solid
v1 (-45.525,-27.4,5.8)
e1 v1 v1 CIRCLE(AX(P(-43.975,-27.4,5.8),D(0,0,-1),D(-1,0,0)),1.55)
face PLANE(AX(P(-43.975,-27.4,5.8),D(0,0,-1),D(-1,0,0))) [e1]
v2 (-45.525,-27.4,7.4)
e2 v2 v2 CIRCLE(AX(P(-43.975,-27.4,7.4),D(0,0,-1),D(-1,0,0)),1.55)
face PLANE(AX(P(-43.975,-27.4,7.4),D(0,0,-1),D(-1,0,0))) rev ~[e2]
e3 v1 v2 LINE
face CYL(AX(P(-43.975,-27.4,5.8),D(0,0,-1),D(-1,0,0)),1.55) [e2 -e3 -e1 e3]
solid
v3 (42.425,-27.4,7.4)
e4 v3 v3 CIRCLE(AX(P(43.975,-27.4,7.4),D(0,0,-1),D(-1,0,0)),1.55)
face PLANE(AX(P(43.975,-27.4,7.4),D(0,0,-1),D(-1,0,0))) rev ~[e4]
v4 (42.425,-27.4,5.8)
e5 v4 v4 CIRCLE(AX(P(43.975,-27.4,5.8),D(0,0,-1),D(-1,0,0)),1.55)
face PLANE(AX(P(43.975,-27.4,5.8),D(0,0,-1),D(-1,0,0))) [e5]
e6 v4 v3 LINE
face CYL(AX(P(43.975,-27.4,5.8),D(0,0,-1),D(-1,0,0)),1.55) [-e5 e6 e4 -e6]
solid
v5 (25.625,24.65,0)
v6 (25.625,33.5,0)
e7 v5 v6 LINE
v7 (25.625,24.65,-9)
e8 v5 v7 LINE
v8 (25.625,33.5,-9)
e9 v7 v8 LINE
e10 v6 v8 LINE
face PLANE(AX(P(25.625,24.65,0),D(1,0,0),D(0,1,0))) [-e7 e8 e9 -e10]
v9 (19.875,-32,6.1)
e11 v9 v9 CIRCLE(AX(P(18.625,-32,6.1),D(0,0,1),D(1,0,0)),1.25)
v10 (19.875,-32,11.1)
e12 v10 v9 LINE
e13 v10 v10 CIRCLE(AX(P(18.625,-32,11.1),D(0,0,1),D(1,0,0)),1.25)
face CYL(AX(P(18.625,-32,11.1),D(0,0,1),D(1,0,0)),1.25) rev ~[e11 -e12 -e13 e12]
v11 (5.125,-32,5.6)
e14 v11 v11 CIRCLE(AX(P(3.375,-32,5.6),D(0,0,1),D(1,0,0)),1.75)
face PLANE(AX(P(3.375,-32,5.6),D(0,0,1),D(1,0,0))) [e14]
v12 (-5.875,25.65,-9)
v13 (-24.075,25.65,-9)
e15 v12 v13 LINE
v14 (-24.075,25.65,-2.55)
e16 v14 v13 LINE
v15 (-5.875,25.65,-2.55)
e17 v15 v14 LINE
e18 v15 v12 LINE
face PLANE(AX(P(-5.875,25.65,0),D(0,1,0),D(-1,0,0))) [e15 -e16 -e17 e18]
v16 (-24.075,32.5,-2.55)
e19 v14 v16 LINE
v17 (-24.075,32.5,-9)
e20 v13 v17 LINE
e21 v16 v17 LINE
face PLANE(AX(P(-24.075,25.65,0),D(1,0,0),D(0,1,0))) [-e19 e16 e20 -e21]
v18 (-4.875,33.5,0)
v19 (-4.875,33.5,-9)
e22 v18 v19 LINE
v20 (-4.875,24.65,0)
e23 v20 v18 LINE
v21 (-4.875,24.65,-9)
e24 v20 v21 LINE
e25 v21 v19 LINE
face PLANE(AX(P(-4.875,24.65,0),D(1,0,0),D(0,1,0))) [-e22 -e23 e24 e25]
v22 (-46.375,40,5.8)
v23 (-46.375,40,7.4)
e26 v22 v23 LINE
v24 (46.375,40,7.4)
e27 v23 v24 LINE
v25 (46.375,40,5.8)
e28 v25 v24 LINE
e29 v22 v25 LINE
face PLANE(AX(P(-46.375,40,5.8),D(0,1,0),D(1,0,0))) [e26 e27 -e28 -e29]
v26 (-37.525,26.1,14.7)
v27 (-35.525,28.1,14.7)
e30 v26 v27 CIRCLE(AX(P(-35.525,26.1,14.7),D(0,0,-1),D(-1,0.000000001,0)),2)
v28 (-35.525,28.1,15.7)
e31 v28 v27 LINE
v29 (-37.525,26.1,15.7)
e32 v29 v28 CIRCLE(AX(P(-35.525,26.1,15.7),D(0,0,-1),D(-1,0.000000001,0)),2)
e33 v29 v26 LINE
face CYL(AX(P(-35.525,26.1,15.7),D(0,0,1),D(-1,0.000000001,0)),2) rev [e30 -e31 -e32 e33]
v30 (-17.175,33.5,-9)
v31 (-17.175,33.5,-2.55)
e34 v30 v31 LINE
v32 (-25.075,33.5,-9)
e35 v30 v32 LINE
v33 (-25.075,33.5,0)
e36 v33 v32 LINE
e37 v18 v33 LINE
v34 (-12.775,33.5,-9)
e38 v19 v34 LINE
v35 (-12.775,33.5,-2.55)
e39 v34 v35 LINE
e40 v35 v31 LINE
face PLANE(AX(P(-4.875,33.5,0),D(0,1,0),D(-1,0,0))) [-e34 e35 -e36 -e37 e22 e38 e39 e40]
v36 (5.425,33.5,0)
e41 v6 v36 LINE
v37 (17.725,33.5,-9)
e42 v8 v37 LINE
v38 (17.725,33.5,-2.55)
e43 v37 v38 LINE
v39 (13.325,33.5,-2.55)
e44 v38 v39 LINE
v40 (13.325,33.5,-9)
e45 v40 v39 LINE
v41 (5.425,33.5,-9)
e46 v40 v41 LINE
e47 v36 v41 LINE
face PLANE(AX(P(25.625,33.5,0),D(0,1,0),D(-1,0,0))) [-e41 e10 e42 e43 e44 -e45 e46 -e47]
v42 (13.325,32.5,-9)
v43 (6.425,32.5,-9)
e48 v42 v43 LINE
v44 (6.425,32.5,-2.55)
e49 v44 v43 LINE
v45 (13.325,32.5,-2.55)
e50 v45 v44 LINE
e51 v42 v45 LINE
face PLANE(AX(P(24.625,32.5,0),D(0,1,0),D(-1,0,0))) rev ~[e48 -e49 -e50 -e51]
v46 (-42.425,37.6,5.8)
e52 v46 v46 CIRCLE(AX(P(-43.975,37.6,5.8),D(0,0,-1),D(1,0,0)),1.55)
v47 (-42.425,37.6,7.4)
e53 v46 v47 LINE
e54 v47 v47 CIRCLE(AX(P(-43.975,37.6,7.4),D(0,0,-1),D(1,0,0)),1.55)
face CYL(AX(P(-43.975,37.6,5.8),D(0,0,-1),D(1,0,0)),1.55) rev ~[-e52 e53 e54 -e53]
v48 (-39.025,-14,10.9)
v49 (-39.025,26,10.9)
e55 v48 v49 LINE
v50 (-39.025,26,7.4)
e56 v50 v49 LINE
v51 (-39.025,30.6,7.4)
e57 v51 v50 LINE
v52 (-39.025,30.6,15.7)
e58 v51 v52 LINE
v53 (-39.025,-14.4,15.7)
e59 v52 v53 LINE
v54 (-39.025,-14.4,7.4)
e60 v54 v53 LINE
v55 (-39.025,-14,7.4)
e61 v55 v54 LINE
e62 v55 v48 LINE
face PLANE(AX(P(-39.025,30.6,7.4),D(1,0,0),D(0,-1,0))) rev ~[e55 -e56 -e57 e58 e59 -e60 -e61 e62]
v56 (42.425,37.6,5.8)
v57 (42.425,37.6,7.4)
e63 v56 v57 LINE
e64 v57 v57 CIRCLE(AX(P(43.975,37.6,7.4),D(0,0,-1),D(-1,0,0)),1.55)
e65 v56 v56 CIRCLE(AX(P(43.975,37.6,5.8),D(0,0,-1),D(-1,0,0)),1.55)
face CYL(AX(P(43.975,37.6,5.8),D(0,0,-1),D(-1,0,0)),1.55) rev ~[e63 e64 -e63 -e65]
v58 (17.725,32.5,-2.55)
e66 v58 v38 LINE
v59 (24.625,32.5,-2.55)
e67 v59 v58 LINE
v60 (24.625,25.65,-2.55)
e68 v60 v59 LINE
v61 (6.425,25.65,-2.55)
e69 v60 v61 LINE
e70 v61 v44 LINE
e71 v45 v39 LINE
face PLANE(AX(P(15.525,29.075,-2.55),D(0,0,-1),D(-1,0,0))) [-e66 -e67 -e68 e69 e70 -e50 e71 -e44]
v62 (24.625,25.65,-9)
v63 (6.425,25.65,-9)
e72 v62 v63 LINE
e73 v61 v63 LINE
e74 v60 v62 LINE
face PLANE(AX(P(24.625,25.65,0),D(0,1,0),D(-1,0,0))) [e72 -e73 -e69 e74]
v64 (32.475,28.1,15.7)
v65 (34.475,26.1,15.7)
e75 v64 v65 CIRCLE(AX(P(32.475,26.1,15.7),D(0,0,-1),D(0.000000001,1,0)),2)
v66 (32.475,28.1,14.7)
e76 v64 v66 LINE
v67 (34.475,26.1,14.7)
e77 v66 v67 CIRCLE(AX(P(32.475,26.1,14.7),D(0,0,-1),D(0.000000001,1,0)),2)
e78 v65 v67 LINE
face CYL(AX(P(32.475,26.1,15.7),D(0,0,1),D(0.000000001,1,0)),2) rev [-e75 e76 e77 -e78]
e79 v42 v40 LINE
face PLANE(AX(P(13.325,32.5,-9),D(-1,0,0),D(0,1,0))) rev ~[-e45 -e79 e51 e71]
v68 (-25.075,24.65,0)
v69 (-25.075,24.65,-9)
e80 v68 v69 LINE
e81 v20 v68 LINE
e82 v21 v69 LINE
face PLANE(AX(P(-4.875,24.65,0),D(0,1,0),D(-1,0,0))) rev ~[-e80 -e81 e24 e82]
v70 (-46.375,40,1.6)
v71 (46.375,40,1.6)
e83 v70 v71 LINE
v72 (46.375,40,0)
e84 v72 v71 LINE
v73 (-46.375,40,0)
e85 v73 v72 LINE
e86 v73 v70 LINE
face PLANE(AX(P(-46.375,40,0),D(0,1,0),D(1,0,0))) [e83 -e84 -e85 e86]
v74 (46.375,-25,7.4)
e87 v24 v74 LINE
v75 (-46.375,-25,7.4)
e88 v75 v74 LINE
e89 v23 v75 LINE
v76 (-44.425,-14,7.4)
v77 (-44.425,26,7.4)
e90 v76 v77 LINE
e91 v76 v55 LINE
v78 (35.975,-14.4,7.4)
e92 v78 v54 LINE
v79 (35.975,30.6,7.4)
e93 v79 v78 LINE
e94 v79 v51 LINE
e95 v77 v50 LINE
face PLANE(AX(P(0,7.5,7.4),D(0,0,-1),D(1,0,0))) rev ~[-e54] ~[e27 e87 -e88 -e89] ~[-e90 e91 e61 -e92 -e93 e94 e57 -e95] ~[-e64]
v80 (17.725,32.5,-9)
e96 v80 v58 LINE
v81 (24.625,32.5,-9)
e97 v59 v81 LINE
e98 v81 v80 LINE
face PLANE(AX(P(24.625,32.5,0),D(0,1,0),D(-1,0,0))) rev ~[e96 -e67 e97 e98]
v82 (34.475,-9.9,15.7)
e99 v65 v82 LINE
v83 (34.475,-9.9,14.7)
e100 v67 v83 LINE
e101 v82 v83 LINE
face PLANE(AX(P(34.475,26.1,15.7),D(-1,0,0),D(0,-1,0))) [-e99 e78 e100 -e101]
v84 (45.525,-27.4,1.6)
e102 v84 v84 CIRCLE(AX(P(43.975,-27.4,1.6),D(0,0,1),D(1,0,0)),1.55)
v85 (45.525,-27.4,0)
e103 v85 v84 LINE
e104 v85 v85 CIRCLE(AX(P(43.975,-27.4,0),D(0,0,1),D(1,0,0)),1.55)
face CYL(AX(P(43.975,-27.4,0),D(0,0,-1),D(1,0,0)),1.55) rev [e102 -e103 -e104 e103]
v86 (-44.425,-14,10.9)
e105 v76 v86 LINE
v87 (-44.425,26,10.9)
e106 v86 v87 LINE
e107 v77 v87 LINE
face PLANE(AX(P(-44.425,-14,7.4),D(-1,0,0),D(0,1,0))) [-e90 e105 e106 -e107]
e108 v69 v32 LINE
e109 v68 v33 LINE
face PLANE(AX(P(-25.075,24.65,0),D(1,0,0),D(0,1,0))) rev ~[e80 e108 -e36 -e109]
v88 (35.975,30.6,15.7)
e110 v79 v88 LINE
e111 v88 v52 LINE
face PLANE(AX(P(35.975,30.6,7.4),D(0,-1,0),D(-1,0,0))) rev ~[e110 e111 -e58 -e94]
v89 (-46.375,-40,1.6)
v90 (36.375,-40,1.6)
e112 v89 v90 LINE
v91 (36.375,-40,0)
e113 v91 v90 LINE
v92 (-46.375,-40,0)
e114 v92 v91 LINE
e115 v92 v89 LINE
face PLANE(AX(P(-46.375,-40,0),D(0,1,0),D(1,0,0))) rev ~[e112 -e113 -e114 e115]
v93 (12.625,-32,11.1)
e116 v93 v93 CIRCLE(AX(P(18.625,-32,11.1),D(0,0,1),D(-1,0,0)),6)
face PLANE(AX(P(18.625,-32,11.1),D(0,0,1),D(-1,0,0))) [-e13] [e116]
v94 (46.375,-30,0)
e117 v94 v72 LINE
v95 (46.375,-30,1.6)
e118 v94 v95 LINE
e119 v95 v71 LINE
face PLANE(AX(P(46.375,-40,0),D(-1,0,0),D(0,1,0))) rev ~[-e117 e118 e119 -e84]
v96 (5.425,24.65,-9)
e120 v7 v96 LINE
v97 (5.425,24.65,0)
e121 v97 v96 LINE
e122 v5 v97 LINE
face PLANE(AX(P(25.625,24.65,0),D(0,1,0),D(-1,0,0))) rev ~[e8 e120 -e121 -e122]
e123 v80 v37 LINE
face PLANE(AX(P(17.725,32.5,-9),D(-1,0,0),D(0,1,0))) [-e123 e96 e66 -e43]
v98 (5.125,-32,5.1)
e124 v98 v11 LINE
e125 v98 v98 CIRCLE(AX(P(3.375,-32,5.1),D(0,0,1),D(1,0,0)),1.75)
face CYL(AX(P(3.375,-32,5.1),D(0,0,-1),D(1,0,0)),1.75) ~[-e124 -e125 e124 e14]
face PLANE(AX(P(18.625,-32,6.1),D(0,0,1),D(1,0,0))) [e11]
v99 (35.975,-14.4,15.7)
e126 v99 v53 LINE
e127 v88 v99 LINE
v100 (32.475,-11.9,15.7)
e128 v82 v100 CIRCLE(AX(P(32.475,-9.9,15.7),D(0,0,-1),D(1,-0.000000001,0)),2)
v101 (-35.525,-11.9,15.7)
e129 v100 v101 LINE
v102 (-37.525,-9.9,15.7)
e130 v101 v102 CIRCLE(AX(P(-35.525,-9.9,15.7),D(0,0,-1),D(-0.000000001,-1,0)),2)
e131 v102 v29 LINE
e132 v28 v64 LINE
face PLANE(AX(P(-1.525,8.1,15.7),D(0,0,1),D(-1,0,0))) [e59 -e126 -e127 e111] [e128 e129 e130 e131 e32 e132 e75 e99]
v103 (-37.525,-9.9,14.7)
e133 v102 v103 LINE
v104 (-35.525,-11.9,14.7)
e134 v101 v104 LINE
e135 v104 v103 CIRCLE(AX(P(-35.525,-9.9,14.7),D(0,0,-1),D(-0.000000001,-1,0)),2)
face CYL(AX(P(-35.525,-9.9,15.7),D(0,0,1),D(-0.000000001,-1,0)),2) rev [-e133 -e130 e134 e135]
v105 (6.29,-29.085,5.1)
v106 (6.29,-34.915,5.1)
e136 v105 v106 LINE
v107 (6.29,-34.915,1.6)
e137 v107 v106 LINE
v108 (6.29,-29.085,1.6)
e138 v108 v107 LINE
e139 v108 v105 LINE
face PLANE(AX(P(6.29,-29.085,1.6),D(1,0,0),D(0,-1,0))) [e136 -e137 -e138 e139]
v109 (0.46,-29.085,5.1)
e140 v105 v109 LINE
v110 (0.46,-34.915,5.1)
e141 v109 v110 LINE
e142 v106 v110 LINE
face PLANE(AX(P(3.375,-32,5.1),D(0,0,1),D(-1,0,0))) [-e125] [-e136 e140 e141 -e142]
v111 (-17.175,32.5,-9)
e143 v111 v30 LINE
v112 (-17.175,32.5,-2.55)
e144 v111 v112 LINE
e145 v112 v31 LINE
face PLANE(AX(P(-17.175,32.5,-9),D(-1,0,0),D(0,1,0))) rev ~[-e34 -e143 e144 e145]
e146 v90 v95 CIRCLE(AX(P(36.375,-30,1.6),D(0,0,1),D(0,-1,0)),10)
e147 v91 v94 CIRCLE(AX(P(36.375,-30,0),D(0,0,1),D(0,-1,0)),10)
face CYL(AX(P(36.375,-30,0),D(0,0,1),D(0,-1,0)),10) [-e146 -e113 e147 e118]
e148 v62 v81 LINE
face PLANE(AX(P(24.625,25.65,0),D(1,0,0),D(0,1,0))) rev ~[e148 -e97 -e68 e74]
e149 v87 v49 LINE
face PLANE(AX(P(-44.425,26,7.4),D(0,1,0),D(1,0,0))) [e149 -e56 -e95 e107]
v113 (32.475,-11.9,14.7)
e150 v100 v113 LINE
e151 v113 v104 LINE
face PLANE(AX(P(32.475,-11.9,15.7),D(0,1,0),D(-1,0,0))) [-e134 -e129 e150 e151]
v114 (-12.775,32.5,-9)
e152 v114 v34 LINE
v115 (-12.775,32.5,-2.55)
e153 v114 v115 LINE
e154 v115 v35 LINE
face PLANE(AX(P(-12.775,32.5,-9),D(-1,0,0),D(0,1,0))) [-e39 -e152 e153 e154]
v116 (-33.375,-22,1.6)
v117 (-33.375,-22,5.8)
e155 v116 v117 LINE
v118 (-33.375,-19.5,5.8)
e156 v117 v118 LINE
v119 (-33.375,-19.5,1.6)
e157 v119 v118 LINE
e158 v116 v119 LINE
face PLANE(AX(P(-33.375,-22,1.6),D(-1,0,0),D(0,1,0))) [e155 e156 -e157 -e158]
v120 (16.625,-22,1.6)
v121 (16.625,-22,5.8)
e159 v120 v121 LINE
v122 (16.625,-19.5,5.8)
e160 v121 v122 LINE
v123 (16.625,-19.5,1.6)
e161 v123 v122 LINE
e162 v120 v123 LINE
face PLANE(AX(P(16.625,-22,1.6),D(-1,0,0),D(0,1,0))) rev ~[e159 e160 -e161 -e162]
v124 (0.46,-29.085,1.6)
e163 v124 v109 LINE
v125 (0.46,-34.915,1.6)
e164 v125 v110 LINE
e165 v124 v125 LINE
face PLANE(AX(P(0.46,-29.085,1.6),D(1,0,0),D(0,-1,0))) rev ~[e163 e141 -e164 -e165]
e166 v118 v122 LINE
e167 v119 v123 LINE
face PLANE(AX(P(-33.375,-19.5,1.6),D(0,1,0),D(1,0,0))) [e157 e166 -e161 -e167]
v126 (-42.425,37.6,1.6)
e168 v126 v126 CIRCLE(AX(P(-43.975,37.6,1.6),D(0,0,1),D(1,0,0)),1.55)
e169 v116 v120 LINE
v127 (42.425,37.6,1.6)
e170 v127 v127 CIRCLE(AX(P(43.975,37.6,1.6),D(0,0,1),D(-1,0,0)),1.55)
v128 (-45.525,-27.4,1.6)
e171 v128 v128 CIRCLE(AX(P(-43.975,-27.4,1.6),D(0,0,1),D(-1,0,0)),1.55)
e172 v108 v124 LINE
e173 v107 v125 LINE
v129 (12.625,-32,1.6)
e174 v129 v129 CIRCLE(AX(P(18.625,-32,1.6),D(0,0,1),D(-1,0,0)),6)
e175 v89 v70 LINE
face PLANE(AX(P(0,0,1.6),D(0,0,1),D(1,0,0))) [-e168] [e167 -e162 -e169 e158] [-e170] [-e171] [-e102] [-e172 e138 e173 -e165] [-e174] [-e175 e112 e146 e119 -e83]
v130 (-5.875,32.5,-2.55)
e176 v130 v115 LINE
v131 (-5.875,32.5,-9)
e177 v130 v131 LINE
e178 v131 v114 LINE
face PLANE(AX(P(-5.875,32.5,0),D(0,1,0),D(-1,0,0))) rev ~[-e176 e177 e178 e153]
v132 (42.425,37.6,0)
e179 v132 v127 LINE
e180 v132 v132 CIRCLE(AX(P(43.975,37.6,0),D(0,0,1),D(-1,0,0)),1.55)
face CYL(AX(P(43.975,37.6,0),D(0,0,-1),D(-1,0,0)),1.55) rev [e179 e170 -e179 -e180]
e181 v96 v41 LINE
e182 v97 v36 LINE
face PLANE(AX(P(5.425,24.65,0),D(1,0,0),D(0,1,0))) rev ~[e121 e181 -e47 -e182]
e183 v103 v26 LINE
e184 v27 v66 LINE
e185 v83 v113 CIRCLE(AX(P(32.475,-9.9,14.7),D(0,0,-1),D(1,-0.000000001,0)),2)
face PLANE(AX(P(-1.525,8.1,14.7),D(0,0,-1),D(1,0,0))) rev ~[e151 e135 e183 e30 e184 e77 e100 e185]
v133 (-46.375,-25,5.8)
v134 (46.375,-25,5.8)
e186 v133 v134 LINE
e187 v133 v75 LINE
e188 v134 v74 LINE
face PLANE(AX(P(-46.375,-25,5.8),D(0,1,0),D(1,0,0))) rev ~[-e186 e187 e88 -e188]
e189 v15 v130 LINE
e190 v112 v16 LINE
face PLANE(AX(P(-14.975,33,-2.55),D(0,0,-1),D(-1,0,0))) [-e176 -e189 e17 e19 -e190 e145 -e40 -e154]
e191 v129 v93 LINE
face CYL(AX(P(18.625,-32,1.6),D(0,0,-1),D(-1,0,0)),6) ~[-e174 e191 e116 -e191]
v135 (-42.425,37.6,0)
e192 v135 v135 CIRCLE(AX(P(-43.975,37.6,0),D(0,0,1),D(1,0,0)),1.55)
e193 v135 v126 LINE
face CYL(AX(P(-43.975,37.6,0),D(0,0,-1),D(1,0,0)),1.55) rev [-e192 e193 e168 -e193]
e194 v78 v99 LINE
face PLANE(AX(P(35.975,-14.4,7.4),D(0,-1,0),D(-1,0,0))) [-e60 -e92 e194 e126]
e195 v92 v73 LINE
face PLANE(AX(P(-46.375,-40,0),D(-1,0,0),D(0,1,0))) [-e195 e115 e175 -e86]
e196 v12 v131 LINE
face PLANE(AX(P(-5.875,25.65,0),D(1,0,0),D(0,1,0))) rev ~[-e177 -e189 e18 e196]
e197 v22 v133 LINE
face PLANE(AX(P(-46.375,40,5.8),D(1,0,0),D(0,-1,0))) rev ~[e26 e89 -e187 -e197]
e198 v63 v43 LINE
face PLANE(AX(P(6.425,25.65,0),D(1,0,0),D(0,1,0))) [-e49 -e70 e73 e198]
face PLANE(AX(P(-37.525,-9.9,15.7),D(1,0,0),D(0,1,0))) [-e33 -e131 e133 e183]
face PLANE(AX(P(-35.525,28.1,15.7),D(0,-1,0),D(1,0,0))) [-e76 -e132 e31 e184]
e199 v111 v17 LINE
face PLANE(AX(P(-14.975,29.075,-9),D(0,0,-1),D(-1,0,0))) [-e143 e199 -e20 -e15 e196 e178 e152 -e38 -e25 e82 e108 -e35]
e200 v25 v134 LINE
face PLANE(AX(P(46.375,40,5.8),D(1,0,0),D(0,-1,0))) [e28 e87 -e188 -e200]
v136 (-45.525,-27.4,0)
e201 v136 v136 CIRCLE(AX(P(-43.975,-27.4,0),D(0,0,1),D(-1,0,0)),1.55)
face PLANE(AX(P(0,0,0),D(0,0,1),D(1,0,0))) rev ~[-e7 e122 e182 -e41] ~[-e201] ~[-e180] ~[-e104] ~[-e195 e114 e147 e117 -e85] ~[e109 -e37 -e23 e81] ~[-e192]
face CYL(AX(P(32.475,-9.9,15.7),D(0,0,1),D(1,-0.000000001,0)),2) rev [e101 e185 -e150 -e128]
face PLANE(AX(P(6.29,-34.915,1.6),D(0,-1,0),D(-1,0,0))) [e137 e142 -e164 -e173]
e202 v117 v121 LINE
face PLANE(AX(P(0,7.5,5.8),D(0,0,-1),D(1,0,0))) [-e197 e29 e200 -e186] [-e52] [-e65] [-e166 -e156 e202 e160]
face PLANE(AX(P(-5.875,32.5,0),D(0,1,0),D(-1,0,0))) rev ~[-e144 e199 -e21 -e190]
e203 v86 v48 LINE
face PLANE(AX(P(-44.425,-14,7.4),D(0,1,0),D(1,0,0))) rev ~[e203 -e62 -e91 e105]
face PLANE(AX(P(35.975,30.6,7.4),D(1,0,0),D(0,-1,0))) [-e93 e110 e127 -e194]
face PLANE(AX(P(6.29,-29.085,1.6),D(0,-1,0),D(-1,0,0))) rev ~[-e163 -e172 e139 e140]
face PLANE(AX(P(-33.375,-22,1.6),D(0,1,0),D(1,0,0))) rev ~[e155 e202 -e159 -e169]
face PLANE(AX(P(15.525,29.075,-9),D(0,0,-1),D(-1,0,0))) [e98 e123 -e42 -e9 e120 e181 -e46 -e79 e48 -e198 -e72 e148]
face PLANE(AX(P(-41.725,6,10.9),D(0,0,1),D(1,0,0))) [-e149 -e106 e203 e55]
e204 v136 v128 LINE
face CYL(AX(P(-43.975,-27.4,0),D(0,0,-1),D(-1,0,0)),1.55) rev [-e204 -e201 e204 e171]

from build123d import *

# Parameters (mm, degrees)
SKETCH1_W                             = 92.75
SKETCH1_H                             = 80
SKETCH1_R                             = 1.55
BOSS_EXTRUDE1_FIRST_PCB_DEPTH         = 1.6
SKETCH2_R                             = 6
BOSS_EXTRUDE2_SPEAKER_DEPTH           = 9.5
SKETCH15_R                            = 1.25
CUT_EXTRUDE1_SPEAKER_HOLE_DEPTH       = 5
SKETCH4_W                             = 5.83
SKETCH4_H                             = 5.83
BOSS_EXTRUDE4_RESET_SWITCH_DEPTH      = 3.5
SKETCH5_R                             = 1.75
BOSS_EXTRUDE5_RESET_BUTTON_DEPTH      = 0.5
SKETCH19_W                            = 50
SKETCH19_H                            = 2.5
BOSS_EXTRUDE10_CONNECTOR_DEPTH        = 4.2
SKETCH11_R                            = 1.55
SKETCH11_W                            = 92.75
SKETCH11_H                            = 65
BOSS_EXTRUDE11_UPPER_PCB_DEPTH        = 1.6
SKETCH12_W                            = 75
SKETCH12_H                            = 45
BOSS_EXTRUDE12_LCD_DEPTH              = 8.3
SKETCH24_W                            = 5.4
SKETCH24_H                            = 40
BOSS_EXTRUDE13_LCD_BUMPOUT_DEPTH      = 3.5
CUT_EXTRUDE2_SCREEN_RECESS_DEPTH      = 1
SKETCH21_W                            = 20.2
SKETCH21_H                            = 8.85
SKETCH21_W_2                          = 18.2
SKETCH21_H_2                          = 6.85
BOSS_EXTRUDE14_CONNECTORS_DEPTH       = 9
SKETCH22_W                            = 18.2
SKETCH22_H                            = 6.85
BOSS_EXTRUDE15_CONNECTOR_RECESS_DEPTH = 2.55
SKETCH23_W                            = 4.4
SKETCH23_H                            = 1
CUT_EXTRUDE3_CONNECTOR_NOTCH_DEPTH    = 6.45
FILLET1_R                             = 10


with BuildPart() as part:
    # Sketch1 → Boss-Extrude1 - First PCB (new body)
    with BuildSketch(Plane.XY):
        Rectangle(SKETCH1_W, SKETCH1_H)
        with Locations((-43.975, 37.6)):
            Circle(SKETCH1_R, mode=Mode.SUBTRACT)
        with Locations(Location((43.975, 37.6, 0), (0, 0, 180))):
            Circle(SKETCH1_R, mode=Mode.SUBTRACT)
        with Locations((43.975, -27.4)):
            Circle(SKETCH1_R, mode=Mode.SUBTRACT)
        with Locations(Location((-43.975, -27.4, 0), (0, 0, 180))):
            Circle(SKETCH1_R, mode=Mode.SUBTRACT)
    extrude(amount=BOSS_EXTRUDE1_FIRST_PCB_DEPTH)

    # Sketch2 → Boss-Extrude2 - Speaker (add)
    with BuildSketch(Plane.XY.offset(1.6)):
        with Locations(Location((18.625, -32, 0), (0, 0, 180))):
            Circle(SKETCH2_R)
    extrude(amount=BOSS_EXTRUDE2_SPEAKER_DEPTH)

    # Sketch15 → Cut-Extrude1 - Speaker Hole (cut)
    with BuildSketch(Plane.XY.offset(11.1)):
        with Locations((18.625, -32)):
            Circle(SKETCH15_R)
    extrude(amount=-CUT_EXTRUDE1_SPEAKER_HOLE_DEPTH, mode=Mode.SUBTRACT)

    # Sketch4 → Boss-Extrude4 - Reset Switch (add)
    with BuildSketch(Plane(origin=(0, 0, 1.6), x_dir=(-1, 0, 0), z_dir=(0, 0, 1))):
        with Locations((-3.375, 32)):
            Rectangle(SKETCH4_W, SKETCH4_H)
    extrude(amount=BOSS_EXTRUDE4_RESET_SWITCH_DEPTH)

    # Sketch5 → Boss-Extrude5 - Reset Button (add)
    with BuildSketch(Plane(origin=(0, 0, 5.1), x_dir=(-1, 0, 0), z_dir=(0, 0, 1))):
        with Locations(Location((-3.375, 32, 0), (0, 0, 180))):
            Circle(SKETCH5_R)
    extrude(amount=BOSS_EXTRUDE5_RESET_BUTTON_DEPTH)

    # Sketch19 → Boss-Extrude10 - Connector (add)
    with BuildSketch(Plane.XY.offset(1.6)):
        with Locations((-8.375, -20.75)):
            Rectangle(SKETCH19_W, SKETCH19_H)
    extrude(amount=BOSS_EXTRUDE10_CONNECTOR_DEPTH)

    # Sketch11 → Boss-Extrude11 - Upper PCB (add)
    # profile 1 of 3: a face of its own
    with BuildSketch(Plane(origin=(0, -2, 5.8), x_dir=(1, 0, 0), z_dir=(0, 0, -1))):
        with Locations(Location((-43.975, 25.4, 0), (0, 0, 180))):
            Circle(SKETCH11_R)
    # profile 2 of 3: a face of its own
    with BuildSketch(Plane(origin=(0, -2, 5.8), x_dir=(1, 0, 0), z_dir=(0, 0, -1))):
        with Locations(Location((43.975, 25.4, 0), (0, 0, 180))):
            Circle(SKETCH11_R)
    # profile 3 of 3: a face of its own
    with BuildSketch(Plane(origin=(0, -2, 5.8), x_dir=(1, 0, 0), z_dir=(0, 0, -1))):
        with Locations((0, -9.5)):
            Rectangle(SKETCH11_W, SKETCH11_H)
        with Locations((-43.975, -39.6)):
            Circle(SKETCH11_R, mode=Mode.SUBTRACT)
        with Locations(Location((43.975, -39.6, 0), (0, 0, 180))):
            Circle(SKETCH11_R, mode=Mode.SUBTRACT)
    extrude(amount=-BOSS_EXTRUDE11_UPPER_PCB_DEPTH)


with BuildPart() as boss_extrude11_upper_pcb_piece_1:
    # of the separate pieces the step leaves, piece 1, a body of its own (boss_extrude11_upper_pcb_pieces)
    add(part.part.solids().sort_by_distance((46.375, -25, 5.8))[0])

    # Sketch12 → Boss-Extrude12 - LCD (add)
    with BuildSketch(Plane(origin=(0, 0, 7.4), x_dir=(-1, 0, 0), z_dir=(0, 0, 1))):
        with Locations((1.525, -8.1)):
            Rectangle(SKETCH12_W, SKETCH12_H)
    extrude(amount=BOSS_EXTRUDE12_LCD_DEPTH)

    # Sketch24 → Boss-Extrude13 - LCD Bumpout (add)
    with BuildSketch(Plane.XY.offset(7.4)):
        with Locations((-41.725, 6)):
            Rectangle(SKETCH24_W, SKETCH24_H)
    extrude(amount=BOSS_EXTRUDE13_LCD_BUMPOUT_DEPTH)

    # Sketch13 → Cut-Extrude2 - Screen Recess (cut)
    with BuildSketch(Plane(origin=(0, 0, 15.7), x_dir=(-1, 0, 0), z_dir=(0, 0, 1))):
        with BuildLine():
            Line((-32.475, 11.9), (35.525, 11.9))
            ThreePointArc((35.525, 11.9), (36.939213562, 11.314213562), (37.525, 9.9))
            Line((37.525, 9.9), (37.525, -26.1))
            ThreePointArc((37.525, -26.1), (36.939213562, -27.514213562), (35.525, -28.1))
            Line((35.525, -28.1), (-32.475, -28.1))
            ThreePointArc((-32.475, -28.1), (-33.889213562, -27.514213562), (-34.475, -26.1))
            Line((-34.475, -26.1), (-34.475, 9.9))
            ThreePointArc((-34.475, 9.9), (-33.889213562, 11.314213562), (-32.475, 11.9))
        make_face()
    extrude(amount=-CUT_EXTRUDE2_SCREEN_RECESS_DEPTH, mode=Mode.SUBTRACT)

    # Sketch21 → Boss-Extrude14 - Connectors (add)
    # profile 1 of 2: a face of its own
    with BuildSketch(Plane(origin=(0, 0, 0), x_dir=(-1, 0, 0), z_dir=(0, 0, -1))):
        with Locations((-15.525, 29.075)):
            Rectangle(SKETCH21_W, SKETCH21_H)
        with Locations((-15.525, 29.075)):
            Rectangle(SKETCH21_W_2, SKETCH21_H_2, mode=Mode.SUBTRACT)
    # profile 2 of 2: a face of its own
    with BuildSketch(Plane(origin=(0, 0, 0), x_dir=(-1, 0, 0), z_dir=(0, 0, -1))):
        with Locations((14.975, 29.075)):
            Rectangle(SKETCH21_W, SKETCH21_H)
        with Locations((14.975, 29.075)):
            Rectangle(SKETCH21_W_2, SKETCH21_H_2, mode=Mode.SUBTRACT)
    extrude(amount=BOSS_EXTRUDE14_CONNECTORS_DEPTH)

    # Sketch22 → Boss-Extrude15 - Connector Recess (add)
    with BuildSketch(Plane(origin=(0, 0, 0), x_dir=(-1, 0, 0), z_dir=(0, 0, -1))):
        with Locations((-15.525, 29.075)):
            Rectangle(SKETCH22_W, SKETCH22_H)
        with Locations((14.975, 29.075)):
            Rectangle(SKETCH22_W, SKETCH22_H)
    extrude(amount=BOSS_EXTRUDE15_CONNECTOR_RECESS_DEPTH)

    # Sketch23 → Cut-Extrude3 - Connector Notch (cut)
    with BuildSketch(Plane(origin=(0, 0, -9), x_dir=(-1, 0, 0), z_dir=(0, 0, -1))):
        with Locations((-15.525, 33)):
            Rectangle(SKETCH23_W, SKETCH23_H)
        with Locations((14.975, 33)):
            Rectangle(SKETCH23_W, SKETCH23_H)
    extrude(amount=-CUT_EXTRUDE3_CONNECTOR_NOTCH_DEPTH, mode=Mode.SUBTRACT)

    # Fillet1
    fillet1_edges = [boss_extrude11_upper_pcb_piece_1.edges().sort_by_distance(p)[0] for p in [
        (46.375, -40, 0.8),
    ]]
    fillet(fillet1_edges, radius=FILLET1_R)


with BuildPart() as boss_extrude11_upper_pcb_piece_2:
    # of the separate pieces the step leaves, piece 2, a body of its own (boss_extrude11_upper_pcb_pieces)
    add(part.part.solids().sort_by_distance((-45.525, -27.4, 5.8))[0])


with BuildPart() as boss_extrude11_upper_pcb_piece_3:
    # of the separate pieces the step leaves, piece 3, a body of its own (boss_extrude11_upper_pcb_pieces)
    add(part.part.solids().sort_by_distance((42.425, -27.4, 5.8))[0])


solid = Compound([boss_extrude11_upper_pcb_piece_1.part, boss_extrude11_upper_pcb_piece_2.part, boss_extrude11_upper_pcb_piece_3.part])
